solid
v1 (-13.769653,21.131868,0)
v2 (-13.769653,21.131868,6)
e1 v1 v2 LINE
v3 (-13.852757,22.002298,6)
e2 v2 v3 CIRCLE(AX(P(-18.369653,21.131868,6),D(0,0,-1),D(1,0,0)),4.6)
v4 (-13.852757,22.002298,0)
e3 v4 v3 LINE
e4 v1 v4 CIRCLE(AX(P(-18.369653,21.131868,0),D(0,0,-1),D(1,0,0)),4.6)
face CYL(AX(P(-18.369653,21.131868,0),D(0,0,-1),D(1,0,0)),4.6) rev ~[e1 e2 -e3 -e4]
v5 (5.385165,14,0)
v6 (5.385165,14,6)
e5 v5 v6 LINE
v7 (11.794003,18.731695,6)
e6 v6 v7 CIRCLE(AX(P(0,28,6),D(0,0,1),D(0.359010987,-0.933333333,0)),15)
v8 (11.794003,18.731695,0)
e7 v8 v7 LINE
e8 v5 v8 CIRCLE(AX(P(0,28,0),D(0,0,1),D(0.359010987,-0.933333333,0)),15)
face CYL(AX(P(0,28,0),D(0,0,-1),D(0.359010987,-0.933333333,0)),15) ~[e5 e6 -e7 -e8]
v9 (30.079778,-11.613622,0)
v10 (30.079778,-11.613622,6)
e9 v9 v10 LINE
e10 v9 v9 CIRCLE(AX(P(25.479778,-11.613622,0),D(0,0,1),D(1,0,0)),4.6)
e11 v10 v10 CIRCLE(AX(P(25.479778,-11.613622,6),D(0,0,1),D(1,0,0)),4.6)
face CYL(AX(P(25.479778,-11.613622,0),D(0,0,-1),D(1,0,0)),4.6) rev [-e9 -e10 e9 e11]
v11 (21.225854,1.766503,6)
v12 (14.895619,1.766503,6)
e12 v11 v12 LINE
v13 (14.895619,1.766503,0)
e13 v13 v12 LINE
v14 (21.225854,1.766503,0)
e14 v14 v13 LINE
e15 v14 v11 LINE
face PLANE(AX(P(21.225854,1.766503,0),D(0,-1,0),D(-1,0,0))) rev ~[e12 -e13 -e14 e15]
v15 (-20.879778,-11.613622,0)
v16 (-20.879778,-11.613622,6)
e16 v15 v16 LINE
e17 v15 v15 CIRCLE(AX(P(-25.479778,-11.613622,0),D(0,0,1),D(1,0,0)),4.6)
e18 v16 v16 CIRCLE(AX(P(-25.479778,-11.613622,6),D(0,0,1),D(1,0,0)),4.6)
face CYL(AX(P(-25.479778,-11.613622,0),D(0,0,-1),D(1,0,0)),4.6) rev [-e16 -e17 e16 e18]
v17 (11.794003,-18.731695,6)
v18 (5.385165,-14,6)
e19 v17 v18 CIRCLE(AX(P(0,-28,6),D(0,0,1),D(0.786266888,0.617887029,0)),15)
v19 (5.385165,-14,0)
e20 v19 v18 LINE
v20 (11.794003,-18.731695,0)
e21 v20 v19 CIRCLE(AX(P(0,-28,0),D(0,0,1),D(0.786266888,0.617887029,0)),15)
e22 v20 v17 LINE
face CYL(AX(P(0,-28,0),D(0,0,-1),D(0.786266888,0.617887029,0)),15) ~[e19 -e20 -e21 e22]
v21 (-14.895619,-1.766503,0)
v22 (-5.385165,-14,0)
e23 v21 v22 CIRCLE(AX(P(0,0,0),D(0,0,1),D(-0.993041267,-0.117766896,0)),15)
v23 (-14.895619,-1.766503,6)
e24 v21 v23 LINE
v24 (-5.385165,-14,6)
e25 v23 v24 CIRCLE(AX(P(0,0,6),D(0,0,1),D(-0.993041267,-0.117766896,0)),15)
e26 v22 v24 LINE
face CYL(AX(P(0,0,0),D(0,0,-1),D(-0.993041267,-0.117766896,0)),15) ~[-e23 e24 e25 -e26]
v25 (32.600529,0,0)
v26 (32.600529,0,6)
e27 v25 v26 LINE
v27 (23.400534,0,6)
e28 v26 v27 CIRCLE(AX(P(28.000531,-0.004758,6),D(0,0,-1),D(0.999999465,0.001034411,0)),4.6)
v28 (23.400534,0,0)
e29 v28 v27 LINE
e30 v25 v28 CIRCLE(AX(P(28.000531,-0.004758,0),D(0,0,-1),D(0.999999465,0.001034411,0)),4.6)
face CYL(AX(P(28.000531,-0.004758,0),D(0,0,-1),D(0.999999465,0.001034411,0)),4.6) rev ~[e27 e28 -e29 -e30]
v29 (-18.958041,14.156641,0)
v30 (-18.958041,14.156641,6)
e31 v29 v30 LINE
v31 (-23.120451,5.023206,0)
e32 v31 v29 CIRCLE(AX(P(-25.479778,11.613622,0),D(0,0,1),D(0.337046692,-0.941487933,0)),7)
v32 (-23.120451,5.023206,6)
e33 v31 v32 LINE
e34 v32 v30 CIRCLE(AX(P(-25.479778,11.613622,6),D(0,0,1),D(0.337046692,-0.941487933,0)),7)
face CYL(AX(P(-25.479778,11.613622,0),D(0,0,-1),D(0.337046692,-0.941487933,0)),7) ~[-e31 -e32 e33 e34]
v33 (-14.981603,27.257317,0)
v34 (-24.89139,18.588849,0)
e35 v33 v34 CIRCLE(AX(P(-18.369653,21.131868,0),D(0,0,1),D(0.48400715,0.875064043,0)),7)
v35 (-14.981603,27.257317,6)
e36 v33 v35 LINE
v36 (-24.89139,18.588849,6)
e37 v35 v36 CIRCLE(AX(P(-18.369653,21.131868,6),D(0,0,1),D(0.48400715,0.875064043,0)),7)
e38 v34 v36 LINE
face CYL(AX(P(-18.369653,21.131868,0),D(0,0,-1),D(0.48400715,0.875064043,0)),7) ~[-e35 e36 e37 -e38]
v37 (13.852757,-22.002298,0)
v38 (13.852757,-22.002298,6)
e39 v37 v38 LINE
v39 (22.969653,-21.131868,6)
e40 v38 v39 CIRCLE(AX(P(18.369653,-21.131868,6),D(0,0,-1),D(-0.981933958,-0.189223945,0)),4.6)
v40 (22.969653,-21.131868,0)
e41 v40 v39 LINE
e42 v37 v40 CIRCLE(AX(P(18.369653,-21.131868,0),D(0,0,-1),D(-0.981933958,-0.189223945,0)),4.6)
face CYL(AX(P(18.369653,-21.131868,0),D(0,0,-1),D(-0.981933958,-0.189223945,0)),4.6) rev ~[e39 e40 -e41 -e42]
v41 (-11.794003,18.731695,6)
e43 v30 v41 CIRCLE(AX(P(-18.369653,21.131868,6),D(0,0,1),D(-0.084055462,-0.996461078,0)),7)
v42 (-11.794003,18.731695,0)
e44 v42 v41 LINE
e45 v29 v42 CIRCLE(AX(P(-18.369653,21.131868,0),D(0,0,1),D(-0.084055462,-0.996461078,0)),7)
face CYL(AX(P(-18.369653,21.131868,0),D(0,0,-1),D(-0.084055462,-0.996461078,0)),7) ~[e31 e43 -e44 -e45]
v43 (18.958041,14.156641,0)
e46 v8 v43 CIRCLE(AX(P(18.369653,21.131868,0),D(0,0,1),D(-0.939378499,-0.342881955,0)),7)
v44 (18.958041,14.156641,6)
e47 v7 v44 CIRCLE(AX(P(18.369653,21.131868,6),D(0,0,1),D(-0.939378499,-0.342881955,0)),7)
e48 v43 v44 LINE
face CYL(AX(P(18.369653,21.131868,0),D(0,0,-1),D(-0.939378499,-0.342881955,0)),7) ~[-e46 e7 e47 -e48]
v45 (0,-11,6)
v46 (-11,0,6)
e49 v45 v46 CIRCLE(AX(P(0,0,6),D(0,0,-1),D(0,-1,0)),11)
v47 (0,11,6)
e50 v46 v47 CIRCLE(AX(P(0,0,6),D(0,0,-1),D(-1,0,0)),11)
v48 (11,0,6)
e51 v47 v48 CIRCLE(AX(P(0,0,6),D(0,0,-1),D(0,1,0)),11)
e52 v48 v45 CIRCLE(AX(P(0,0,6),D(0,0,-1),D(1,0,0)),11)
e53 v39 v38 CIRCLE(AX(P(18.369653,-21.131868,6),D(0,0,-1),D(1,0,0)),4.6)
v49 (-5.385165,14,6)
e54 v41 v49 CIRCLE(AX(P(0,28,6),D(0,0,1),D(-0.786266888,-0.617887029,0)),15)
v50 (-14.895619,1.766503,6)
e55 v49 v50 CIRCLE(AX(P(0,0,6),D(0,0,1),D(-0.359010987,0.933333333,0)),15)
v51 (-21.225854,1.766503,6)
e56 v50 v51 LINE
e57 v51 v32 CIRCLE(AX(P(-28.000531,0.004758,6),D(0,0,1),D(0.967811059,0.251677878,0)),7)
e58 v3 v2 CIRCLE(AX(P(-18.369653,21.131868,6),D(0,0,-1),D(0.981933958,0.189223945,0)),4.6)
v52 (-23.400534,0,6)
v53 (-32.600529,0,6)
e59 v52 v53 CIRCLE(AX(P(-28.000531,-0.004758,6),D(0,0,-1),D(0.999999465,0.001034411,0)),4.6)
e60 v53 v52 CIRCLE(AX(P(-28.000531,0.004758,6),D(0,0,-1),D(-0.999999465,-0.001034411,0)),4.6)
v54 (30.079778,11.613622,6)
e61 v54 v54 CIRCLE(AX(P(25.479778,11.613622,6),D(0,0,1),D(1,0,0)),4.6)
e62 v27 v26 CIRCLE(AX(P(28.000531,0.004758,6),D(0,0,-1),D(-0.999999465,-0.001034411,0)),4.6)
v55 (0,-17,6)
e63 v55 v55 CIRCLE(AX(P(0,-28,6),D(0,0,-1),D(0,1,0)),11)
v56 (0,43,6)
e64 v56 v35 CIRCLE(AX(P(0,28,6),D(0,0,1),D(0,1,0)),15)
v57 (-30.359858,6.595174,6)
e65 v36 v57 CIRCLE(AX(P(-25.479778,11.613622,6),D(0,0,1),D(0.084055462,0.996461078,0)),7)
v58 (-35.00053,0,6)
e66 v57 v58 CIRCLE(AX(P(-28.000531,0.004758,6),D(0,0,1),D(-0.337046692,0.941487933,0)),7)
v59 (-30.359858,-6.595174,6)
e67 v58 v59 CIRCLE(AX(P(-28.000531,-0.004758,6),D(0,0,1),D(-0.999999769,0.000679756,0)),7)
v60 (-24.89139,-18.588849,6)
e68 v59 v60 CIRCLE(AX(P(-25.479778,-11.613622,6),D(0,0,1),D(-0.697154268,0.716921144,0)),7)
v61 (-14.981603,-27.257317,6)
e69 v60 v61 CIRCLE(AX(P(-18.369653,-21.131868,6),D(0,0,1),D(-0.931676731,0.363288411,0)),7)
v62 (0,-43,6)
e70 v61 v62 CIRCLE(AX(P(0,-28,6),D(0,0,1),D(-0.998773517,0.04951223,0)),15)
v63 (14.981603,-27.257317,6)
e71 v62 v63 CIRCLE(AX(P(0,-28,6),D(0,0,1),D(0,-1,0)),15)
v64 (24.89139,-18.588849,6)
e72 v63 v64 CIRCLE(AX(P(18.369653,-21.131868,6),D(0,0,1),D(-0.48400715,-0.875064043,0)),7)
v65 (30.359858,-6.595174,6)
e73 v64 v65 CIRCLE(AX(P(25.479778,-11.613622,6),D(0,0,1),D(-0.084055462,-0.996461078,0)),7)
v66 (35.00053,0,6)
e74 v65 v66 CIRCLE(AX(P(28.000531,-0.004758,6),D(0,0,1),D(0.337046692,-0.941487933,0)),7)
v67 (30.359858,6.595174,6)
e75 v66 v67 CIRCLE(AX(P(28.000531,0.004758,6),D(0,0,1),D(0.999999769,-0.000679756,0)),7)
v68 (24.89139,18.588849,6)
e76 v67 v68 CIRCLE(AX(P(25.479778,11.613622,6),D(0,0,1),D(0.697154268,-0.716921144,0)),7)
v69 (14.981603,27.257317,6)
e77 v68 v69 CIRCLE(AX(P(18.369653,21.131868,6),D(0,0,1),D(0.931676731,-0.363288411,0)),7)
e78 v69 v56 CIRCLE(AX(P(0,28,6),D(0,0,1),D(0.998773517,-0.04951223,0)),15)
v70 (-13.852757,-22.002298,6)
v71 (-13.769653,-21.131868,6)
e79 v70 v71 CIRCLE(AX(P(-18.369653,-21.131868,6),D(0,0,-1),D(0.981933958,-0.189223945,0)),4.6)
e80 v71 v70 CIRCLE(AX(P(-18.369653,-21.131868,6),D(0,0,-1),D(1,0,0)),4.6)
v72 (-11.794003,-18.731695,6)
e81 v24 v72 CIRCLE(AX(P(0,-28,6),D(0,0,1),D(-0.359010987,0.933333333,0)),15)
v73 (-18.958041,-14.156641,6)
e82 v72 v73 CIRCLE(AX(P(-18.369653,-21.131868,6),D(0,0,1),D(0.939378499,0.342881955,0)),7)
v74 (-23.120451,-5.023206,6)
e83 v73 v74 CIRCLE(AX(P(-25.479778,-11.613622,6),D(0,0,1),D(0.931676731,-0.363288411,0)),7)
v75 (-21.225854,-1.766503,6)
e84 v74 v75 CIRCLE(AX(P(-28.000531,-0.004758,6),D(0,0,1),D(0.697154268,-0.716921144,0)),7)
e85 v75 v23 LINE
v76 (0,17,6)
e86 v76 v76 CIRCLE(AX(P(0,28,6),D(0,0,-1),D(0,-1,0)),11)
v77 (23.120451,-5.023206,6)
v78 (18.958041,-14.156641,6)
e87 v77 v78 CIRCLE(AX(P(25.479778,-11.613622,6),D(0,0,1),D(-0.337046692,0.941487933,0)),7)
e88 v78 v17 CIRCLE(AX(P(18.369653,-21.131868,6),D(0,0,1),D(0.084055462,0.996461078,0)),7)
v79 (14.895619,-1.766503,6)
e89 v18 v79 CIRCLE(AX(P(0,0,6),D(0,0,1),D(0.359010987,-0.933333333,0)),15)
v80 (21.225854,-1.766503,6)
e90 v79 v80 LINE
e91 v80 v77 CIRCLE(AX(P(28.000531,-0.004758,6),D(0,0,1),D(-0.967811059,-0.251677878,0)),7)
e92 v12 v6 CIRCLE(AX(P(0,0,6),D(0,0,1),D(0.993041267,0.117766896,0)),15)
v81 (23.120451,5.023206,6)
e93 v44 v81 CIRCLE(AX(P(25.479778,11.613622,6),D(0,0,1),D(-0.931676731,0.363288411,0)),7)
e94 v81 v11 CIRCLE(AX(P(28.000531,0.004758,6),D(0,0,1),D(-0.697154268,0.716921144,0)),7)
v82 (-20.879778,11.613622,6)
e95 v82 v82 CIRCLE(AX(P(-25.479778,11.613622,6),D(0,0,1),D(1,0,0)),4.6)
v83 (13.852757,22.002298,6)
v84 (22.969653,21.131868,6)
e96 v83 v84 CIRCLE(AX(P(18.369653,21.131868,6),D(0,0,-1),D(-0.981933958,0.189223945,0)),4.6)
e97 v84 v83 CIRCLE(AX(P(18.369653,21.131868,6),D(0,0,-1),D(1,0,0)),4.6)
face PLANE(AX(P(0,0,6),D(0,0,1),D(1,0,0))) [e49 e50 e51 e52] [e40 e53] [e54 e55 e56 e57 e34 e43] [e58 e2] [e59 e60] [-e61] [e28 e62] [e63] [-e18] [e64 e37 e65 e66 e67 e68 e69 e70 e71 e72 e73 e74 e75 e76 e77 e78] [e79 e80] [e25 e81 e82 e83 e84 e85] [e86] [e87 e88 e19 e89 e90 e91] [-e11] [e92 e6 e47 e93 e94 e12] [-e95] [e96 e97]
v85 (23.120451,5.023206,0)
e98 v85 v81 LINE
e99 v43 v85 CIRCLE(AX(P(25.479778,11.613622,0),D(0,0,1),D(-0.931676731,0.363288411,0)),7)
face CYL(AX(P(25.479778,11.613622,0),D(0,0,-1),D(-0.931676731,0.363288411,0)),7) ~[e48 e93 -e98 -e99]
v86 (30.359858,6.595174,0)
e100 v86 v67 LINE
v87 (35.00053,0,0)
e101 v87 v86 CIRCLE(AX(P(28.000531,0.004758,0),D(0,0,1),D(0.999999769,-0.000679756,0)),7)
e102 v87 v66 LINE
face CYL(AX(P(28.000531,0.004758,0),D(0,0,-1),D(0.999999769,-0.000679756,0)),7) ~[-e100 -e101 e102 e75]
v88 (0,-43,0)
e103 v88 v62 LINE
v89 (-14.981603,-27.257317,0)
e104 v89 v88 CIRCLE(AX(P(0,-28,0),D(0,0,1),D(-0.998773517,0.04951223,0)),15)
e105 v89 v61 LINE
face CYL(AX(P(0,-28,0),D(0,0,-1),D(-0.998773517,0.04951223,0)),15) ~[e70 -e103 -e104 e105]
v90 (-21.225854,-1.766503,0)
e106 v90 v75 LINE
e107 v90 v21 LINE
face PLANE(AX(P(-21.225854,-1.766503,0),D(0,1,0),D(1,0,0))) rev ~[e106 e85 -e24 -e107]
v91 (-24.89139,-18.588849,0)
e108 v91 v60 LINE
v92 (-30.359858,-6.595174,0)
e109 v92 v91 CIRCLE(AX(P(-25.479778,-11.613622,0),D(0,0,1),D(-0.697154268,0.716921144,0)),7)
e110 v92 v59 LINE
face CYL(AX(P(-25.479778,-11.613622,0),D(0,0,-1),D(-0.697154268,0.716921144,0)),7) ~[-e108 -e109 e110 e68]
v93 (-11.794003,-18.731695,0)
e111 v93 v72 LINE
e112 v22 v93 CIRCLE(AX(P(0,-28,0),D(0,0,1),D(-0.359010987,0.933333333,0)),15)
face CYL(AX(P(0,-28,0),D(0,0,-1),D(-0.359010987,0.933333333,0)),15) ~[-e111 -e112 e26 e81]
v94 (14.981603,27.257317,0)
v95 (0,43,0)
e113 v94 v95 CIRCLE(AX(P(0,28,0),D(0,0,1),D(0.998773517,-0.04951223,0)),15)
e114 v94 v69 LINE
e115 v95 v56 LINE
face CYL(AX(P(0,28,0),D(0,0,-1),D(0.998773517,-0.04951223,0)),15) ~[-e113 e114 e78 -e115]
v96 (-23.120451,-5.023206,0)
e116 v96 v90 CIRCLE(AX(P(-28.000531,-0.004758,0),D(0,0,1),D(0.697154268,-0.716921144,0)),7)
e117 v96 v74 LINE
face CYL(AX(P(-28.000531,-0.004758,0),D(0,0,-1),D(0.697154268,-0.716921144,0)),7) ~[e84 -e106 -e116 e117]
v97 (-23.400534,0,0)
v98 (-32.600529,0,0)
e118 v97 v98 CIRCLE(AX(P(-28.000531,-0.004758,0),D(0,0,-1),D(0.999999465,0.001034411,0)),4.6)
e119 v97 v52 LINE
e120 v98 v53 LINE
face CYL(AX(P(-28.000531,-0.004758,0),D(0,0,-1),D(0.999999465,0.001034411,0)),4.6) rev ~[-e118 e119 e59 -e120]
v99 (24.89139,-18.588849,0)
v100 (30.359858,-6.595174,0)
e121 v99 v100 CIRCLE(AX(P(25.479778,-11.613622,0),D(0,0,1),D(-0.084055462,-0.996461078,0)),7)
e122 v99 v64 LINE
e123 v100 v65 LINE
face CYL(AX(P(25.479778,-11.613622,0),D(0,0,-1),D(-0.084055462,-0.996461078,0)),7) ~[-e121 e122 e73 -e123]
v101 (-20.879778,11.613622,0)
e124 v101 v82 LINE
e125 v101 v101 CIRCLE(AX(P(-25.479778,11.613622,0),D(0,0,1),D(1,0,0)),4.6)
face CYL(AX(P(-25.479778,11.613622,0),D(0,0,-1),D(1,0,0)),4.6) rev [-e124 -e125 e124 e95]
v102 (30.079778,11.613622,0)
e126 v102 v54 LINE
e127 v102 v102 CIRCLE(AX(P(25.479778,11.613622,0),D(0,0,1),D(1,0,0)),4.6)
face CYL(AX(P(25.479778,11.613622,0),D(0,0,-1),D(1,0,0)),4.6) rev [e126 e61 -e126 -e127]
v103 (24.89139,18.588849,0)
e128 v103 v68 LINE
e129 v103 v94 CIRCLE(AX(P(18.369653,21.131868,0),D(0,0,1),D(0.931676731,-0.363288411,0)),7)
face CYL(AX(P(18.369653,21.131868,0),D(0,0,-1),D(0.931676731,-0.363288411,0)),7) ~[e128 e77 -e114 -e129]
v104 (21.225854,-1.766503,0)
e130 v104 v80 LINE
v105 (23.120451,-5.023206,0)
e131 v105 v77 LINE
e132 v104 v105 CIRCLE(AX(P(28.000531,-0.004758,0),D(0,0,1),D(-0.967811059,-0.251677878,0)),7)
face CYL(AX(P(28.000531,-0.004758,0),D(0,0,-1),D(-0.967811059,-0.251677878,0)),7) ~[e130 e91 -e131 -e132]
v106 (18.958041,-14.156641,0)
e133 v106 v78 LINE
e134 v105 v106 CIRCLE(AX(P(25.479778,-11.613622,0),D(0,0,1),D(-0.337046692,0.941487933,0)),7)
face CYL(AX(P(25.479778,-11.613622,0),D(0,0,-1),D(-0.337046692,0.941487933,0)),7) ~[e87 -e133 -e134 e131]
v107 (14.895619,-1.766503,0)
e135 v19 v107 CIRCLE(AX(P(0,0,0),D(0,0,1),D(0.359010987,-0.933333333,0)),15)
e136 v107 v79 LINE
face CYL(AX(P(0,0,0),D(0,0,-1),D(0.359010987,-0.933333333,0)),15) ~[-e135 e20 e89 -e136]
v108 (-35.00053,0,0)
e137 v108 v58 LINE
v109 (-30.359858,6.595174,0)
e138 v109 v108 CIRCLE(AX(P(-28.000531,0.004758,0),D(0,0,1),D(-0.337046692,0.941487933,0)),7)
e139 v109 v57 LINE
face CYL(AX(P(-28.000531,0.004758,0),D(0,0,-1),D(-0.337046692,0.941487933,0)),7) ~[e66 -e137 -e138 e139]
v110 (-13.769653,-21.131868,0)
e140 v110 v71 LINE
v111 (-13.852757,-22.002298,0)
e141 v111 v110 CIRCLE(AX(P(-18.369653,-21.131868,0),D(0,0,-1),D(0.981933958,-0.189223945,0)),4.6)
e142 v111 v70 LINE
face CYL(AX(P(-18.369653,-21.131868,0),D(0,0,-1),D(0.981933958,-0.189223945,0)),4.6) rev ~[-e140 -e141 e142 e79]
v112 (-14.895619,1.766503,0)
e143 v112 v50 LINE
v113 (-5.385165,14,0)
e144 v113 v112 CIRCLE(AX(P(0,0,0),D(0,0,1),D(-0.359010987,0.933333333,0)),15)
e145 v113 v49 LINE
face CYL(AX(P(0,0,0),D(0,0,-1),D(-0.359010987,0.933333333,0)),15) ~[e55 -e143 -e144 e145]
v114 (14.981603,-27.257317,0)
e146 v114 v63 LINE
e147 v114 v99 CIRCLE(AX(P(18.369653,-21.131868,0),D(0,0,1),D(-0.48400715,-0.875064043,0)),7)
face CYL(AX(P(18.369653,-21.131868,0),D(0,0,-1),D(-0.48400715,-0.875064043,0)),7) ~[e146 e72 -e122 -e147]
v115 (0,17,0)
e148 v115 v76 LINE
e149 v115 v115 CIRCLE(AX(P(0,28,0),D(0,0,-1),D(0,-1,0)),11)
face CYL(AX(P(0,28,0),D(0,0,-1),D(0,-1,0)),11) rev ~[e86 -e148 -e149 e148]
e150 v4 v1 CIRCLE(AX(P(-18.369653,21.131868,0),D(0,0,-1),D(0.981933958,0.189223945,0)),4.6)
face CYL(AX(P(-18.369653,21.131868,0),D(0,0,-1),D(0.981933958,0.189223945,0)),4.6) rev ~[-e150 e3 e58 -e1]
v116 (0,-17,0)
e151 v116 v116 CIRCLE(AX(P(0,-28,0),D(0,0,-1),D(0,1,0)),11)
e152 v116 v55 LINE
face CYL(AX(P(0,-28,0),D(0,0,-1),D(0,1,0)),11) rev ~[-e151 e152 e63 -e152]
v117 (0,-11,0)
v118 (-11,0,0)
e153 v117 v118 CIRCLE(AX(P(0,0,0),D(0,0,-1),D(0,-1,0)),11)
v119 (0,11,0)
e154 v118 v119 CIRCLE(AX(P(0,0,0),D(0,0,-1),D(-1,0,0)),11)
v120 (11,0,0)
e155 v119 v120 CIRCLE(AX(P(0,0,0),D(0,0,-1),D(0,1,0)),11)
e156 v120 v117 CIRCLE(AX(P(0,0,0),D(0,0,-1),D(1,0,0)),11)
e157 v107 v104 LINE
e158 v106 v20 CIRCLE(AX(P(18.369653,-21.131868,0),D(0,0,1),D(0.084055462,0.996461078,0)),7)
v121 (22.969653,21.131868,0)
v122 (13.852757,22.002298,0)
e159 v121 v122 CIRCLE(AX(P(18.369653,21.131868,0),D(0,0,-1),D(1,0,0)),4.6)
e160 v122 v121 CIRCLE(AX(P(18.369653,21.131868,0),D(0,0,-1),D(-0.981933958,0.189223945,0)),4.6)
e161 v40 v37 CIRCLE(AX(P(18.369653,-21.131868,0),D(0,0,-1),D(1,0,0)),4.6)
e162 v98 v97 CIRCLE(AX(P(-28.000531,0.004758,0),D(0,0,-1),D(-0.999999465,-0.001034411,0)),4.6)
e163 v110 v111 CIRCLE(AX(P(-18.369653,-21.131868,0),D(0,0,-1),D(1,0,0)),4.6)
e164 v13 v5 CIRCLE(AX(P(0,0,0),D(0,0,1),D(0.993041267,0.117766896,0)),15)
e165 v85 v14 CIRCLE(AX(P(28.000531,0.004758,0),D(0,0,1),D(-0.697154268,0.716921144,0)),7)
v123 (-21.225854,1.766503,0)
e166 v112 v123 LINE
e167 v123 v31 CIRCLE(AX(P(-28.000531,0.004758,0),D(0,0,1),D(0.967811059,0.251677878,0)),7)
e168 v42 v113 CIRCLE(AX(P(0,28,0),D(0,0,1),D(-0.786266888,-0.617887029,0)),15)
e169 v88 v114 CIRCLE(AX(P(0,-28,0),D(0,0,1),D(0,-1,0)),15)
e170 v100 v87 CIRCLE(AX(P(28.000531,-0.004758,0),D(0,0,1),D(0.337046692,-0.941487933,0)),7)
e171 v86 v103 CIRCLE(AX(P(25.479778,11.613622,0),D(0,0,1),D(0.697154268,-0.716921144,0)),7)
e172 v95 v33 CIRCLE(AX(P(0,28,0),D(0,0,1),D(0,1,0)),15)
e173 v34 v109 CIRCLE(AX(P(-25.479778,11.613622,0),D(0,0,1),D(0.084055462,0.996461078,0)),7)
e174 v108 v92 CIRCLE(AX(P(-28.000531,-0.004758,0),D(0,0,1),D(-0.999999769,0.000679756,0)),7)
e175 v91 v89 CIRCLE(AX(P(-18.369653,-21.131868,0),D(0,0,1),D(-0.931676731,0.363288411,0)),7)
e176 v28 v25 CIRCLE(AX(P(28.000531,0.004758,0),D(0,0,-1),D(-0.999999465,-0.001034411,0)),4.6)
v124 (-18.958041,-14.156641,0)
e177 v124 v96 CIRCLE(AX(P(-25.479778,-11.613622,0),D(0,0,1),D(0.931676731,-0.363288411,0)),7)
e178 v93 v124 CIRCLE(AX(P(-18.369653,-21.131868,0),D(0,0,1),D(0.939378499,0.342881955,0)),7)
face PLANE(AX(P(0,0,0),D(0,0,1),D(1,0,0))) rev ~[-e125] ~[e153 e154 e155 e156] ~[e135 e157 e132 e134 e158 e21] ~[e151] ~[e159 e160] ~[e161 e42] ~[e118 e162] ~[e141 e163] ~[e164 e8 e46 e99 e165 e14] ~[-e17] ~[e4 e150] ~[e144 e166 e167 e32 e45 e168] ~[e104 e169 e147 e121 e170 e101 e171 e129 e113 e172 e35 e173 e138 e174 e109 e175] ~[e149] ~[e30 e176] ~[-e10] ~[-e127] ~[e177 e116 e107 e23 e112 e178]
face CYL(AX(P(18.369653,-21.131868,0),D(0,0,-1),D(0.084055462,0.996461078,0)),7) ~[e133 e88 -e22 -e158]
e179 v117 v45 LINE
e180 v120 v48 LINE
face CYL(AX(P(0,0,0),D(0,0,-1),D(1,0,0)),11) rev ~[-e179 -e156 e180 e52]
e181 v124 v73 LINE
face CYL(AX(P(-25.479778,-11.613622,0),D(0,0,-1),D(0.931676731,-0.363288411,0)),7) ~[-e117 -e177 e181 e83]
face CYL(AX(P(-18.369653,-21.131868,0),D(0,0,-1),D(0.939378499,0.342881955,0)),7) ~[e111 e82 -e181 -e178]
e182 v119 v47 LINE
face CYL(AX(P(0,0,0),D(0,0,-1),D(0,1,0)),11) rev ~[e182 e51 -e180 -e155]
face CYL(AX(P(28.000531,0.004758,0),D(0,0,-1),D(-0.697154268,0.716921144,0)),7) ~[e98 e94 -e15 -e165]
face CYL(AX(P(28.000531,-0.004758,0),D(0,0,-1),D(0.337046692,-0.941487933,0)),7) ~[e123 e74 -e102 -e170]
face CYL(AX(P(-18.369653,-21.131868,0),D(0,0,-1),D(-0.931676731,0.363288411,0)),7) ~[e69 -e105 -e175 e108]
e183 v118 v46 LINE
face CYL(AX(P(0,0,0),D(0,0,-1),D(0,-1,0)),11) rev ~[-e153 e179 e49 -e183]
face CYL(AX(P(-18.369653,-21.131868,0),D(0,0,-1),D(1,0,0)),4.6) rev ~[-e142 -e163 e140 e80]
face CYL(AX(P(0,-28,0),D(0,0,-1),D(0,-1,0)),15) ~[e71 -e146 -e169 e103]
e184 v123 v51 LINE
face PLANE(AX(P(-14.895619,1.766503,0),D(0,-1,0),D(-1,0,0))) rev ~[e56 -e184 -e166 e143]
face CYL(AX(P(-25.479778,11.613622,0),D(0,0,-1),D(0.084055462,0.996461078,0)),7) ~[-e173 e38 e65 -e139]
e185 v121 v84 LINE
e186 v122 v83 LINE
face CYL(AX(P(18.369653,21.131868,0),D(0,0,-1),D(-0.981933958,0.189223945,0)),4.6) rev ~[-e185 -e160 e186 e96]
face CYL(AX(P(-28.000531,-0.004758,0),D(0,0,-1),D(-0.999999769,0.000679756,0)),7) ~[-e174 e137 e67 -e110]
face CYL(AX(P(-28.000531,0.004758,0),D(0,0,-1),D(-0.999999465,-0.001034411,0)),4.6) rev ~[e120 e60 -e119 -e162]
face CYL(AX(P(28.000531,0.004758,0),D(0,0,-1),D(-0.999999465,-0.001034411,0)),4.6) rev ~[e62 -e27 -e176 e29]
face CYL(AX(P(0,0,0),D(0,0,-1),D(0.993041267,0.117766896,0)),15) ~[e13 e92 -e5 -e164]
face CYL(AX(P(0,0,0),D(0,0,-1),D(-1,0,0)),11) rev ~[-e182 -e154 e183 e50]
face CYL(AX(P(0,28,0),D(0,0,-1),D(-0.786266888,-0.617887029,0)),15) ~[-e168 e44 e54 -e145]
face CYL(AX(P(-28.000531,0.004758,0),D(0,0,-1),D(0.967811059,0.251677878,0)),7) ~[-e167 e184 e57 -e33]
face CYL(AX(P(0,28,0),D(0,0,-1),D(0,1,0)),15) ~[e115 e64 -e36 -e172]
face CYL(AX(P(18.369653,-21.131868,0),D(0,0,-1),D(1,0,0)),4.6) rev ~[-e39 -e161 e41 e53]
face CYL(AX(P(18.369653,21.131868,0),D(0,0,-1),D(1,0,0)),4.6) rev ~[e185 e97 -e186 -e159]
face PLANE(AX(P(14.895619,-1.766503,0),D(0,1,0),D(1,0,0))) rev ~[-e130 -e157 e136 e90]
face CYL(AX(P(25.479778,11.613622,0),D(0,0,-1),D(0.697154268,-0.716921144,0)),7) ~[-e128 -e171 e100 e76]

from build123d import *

# Parameters (mm, degrees)
F0_R     = 4.6
F1_DEPTH = 6


with BuildPart() as f1:
    # F0 (on Top) → F1 (new body)
    with BuildSketch(Plane.XY):
        with BuildLine():
            ThreePointArc((24.891389926, 18.5888493686), (22.9784031247, 26.4005892061), (14.9816027609, 27.2573165444))
            ThreePointArc((14.9816027609, 27.2573165444), (10.8660078188, 38.3406902131), (0, 43))
            ThreePointArc((0, 43), (-10.8660078188, 38.3406902131), (-14.9816027609, 27.2573165444))
            ThreePointArc((-14.9816027609, 27.2573165444), (-22.9784031247, 26.4005892061), (-24.891389926, 18.5888493686))
            ThreePointArc((-24.891389926, 18.5888493686), (-31.8489788648, 14.517633261), (-30.3598580405, 6.5951738193))
            ThreePointArc((-30.3598580405, 6.5951738193), (-33.7253300236, 4.0329934375), (-35.0005295806, 0))
            ThreePointArc((-35.0005295806, 0), (-33.7253300236, -4.0329934375), (-30.3598580405, -6.5951738193))
            ThreePointArc((-30.3598580405, -6.5951738193), (-31.8489788648, -14.517633261), (-24.891389926, -18.5888493686))
            ThreePointArc((-24.891389926, -18.5888493686), (-22.9784031247, -26.4005892061), (-14.9816027609, -27.2573165444))
            ThreePointArc((-14.9816027609, -27.2573165444), (-10.8660078188, -38.3406902131), (0, -43))
            ThreePointArc((0, -43), (10.8660078188, -38.3406902131), (14.9816027609, -27.2573165444))
            ThreePointArc((14.9816027609, -27.2573165444), (22.9784031247, -26.4005892061), (24.891389926, -18.5888493686))
            ThreePointArc((24.891389926, -18.5888493686), (31.8489788648, -14.517633261), (30.3598580405, -6.5951738193))
            ThreePointArc((30.3598580405, -6.5951738193), (33.7253300236, -4.0329934375), (35.0005295806, 0))
            ThreePointArc((35.0005295806, 0), (33.7253300236, 4.0329934375), (30.3598580405, 6.5951738193))
            ThreePointArc((30.3598580405, 6.5951738193), (31.8489788648, 14.517633261), (24.891389926, 18.5888493686))
        make_face()
        with BuildLine():
            ThreePointArc((-14.8758264908, -27.1976062589), (-14.9285851099, -27.2276908381), (-14.9816027609, -27.2573165444))
            ThreePointArc((-14.9816027609, -27.2573165444), (-14.9786558009, -27.2000810049), (-14.9754901797, -27.1428571429))
            ThreePointArc((-14.9754901797, -27.1428571429), (-14.9256834385, -27.1702773982), (-14.8758264908, -27.1976062589))
        make_face(mode=Mode.SUBTRACT)
        with BuildLine():
            ThreePointArc((-24.8159520893, -18.5820746623), (-24.8536618446, -18.5855640478), (-24.891389926, -18.5888493686))
            ThreePointArc((-24.891389926, -18.5888493686), (-24.8770993205, -18.5525001191), (-24.8626061224, -18.5162311717))
            ThreePointArc((-24.8626061224, -18.5162311717), (-24.8393005306, -18.5491680978), (-24.8159520893, -18.5820746623))
        make_face(mode=Mode.SUBTRACT)
        with BuildLine():
            ThreePointArc((-13.8527566028, -22.0022983914), (-22.9488297335, -20.6946741024), (-13.7696528117, -21.1318682462))
            ThreePointArc((-13.7696528117, -21.1318682462), (-13.79047589, -21.5690623901), (-13.8527566028, -22.0022983914))
        make_face(mode=Mode.SUBTRACT)
        with Locations((-25.4797781629, -11.6136218252)):
            Circle(F0_R, mode=Mode.SUBTRACT)
        with BuildLine():
            ThreePointArc((-30.2862454835, -6.6210646767), (-30.3230878398, -6.6082218239), (-30.3598580405, -6.5951738193))
            ThreePointArc((-30.3598580405, -6.5951738193), (-30.3317184772, -6.5679627813), (-30.3034271892, -6.5409095258))
            ThreePointArc((-30.3034271892, -6.5409095258), (-30.2948628315, -6.5809927807), (-30.2862454835, -6.6210646767))
        make_face(mode=Mode.SUBTRACT)
        with BuildLine():
            ThreePointArc((-11.7940033175, -18.731694559), (-14.6020801465, -15.2322584106), (-18.9580410486, -14.1566407028))
            ThreePointArc((-18.9580410486, -14.1566407028), (-19.1100662174, -8.7107319321), (-23.1204513202, -5.0232062958))
            ThreePointArc((-23.1204513202, -5.0232062958), (-21.9499221167, -3.5247199016), (-21.2258537854, -1.7665034355))
            Line((-21.2258537854, -1.7665034355), (-14.8956190074, -1.7665034355))
            ThreePointArc((-14.8956190074, -1.7665034355), (-11.8423881705, -9.2064022517), (-5.3851648071, -14))
            ThreePointArc((-5.3851648071, -14), (-8.9094437376, -15.9326136928), (-11.7940033175, -18.731694559))
        make_face(mode=Mode.SUBTRACT)
        with BuildLine():
            ThreePointArc((0, -39), (-11, -28), (0, -17))
            ThreePointArc((0, -17), (11, -28), (0, -39))
        make_face(mode=Mode.SUBTRACT)
        with BuildLine():
            ThreePointArc((14.9754901797, -27.1428571429), (14.9786558009, -27.2000810049), (14.9816027609, -27.2573165444))
            ThreePointArc((14.9816027609, -27.2573165444), (14.9285851099, -27.2276908381), (14.8758264908, -27.1976062589))
            ThreePointArc((14.8758264908, -27.1976062589), (14.9256834385, -27.1702773982), (14.9754901797, -27.1428571429))
        make_face(mode=Mode.SUBTRACT)
        with BuildLine():
            ThreePointArc((23.1204513202, -5.0232062958), (19.1100662174, -8.7107319321), (18.9580410486, -14.1566407028))
            ThreePointArc((18.9580410486, -14.1566407028), (14.6020801465, -15.2322584106), (11.7940033175, -18.731694559))
            ThreePointArc((11.7940033175, -18.731694559), (8.9094437376, -15.9326136928), (5.3851648071, -14))
            ThreePointArc((5.3851648071, -14), (11.8423881705, -9.2064022517), (14.8956190074, -1.7665034355))
            Line((14.8956190074, -1.7665034355), (21.2258537854, -1.7665034355))
            ThreePointArc((21.2258537854, -1.7665034355), (21.9499221167, -3.5247199016), (23.1204513202, -5.0232062958))
        make_face(mode=Mode.SUBTRACT)
        with BuildLine():
            ThreePointArc((13.8527566028, -22.0022983914), (17.9324586679, -16.5526913245), (22.9696528117, -21.1318682462))
            ThreePointArc((22.9696528117, -21.1318682462), (18.8068469556, -25.711045168), (13.8527566028, -22.0022983914))
        make_face(mode=Mode.SUBTRACT)
        with BuildLine():
            ThreePointArc((24.8626061224, -18.5162311717), (24.8770993205, -18.5525001191), (24.891389926, -18.5888493686))
            ThreePointArc((24.891389926, -18.5888493686), (24.8536618446, -18.5855640478), (24.8159520893, -18.5820746623))
            ThreePointArc((24.8159520893, -18.5820746623), (24.8393005306, -18.5491680978), (24.8626061224, -18.5162311717))
        make_face(mode=Mode.SUBTRACT)
        with Locations((25.4797781629, -11.6136218252)):
            Circle(F0_R, mode=Mode.SUBTRACT)
        with BuildLine():
            ThreePointArc((30.3034271892, -6.5409095258), (30.3317184772, -6.5679627813), (30.3598580405, -6.5951738193))
            ThreePointArc((30.3598580405, -6.5951738193), (30.3230878398, -6.6082218239), (30.2862454835, -6.6210646767))
            ThreePointArc((30.2862454835, -6.6210646767), (30.2948628315, -6.5809927807), (30.3034271892, -6.5409095258))
        make_face(mode=Mode.SUBTRACT)
        with BuildLine():
            ThreePointArc((-23.4005336588, 0), (-28.0005311978, -4.6047582899), (-32.6005287368, 0))
            ThreePointArc((-32.6005287368, 0), (-28.0005311978, 4.6047582899), (-23.4005336588, 0))
        make_face(mode=Mode.SUBTRACT)
        with BuildLine():
            ThreePointArc((-30.3034271892, 6.5409095258), (-30.3317184772, 6.5679627813), (-30.3598580405, 6.5951738193))
            ThreePointArc((-30.3598580405, 6.5951738193), (-30.3230878398, 6.6082218239), (-30.2862454835, 6.6210646767))
            ThreePointArc((-30.2862454835, 6.6210646767), (-30.2948628315, 6.5809927807), (-30.3034271892, 6.5409095258))
        make_face(mode=Mode.SUBTRACT)
        with Locations((-25.4797781629, 11.6136218252)):
            Circle(F0_R, mode=Mode.SUBTRACT)
        with BuildLine():
            ThreePointArc((-24.8626061224, 18.5162311717), (-24.8770993205, 18.5525001191), (-24.891389926, 18.5888493686))
            ThreePointArc((-24.891389926, 18.5888493686), (-24.8536618446, 18.5855640478), (-24.8159520893, 18.5820746623))
            ThreePointArc((-24.8159520893, 18.5820746623), (-24.8393005306, 18.5491680978), (-24.8626061224, 18.5162311717))
        make_face(mode=Mode.SUBTRACT)
        with BuildLine():
            ThreePointArc((-13.8527566028, 22.0022983914), (-13.79047589, 21.5690623901), (-13.7696528117, 21.1318682462))
            ThreePointArc((-13.7696528117, 21.1318682462), (-22.9488297335, 20.6946741024), (-13.8527566028, 22.0022983914))
        make_face(mode=Mode.SUBTRACT)
        with BuildLine():
            ThreePointArc((-11.7940033175, 18.731694559), (-8.9094437376, 15.9326136928), (-5.3851648071, 14))
            ThreePointArc((-5.3851648071, 14), (-11.8423881705, 9.2064022517), (-14.8956190074, 1.7665034355))
            Line((-14.8956190074, 1.7665034355), (-21.2258537854, 1.7665034355))
            ThreePointArc((-21.2258537854, 1.7665034355), (-21.9499221167, 3.5247199016), (-23.1204513202, 5.0232062958))
            ThreePointArc((-23.1204513202, 5.0232062958), (-19.1100662174, 8.7107319321), (-18.9580410486, 14.1566407028))
            ThreePointArc((-18.9580410486, 14.1566407028), (-14.6020801465, 15.2322584106), (-11.7940033175, 18.731694559))
        make_face(mode=Mode.SUBTRACT)
        with BuildLine():
            ThreePointArc((-14.9754901797, 27.1428571429), (-14.9786558009, 27.2000810049), (-14.9816027609, 27.2573165444))
            ThreePointArc((-14.9816027609, 27.2573165444), (-14.9285851099, 27.2276908381), (-14.8758264908, 27.1976062589))
            ThreePointArc((-14.8758264908, 27.1976062589), (-14.9256834385, 27.1702773982), (-14.9754901797, 27.1428571429))
        make_face(mode=Mode.SUBTRACT)
        with BuildLine():
            ThreePointArc((0, 11), (7.7781745931, 7.7781745931), (11, 0))
            ThreePointArc((11, 0), (7.7781745931, -7.7781745931), (0, -11))
            ThreePointArc((0, -11), (-7.7781745931, -7.7781745931), (-11, 0))
            ThreePointArc((-11, 0), (-7.7781745931, 7.7781745931), (0, 11))
        make_face(mode=Mode.SUBTRACT)
        with BuildLine():
            Line((21.2258537854, 1.7665034355), (14.8956190074, 1.7665034355))
            ThreePointArc((14.8956190074, 1.7665034355), (11.8423881705, 9.2064022517), (5.3851648071, 14))
            ThreePointArc((5.3851648071, 14), (8.9094437376, 15.9326136928), (11.7940033175, 18.731694559))
            ThreePointArc((11.7940033175, 18.731694559), (14.6020801465, 15.2322584106), (18.9580410486, 14.1566407028))
            ThreePointArc((18.9580410486, 14.1566407028), (19.1100662174, 8.7107319321), (23.1204513202, 5.0232062958))
            ThreePointArc((23.1204513202, 5.0232062958), (21.9499221167, 3.5247199016), (21.2258537854, 1.7665034355))
        make_face(mode=Mode.SUBTRACT)
        with BuildLine():
            ThreePointArc((23.4005336588, 0), (28.0005311978, 4.6047582899), (32.6005287368, 0))
            ThreePointArc((32.6005287368, 0), (28.0005311978, -4.6047582899), (23.4005336588, 0))
        make_face(mode=Mode.SUBTRACT)
        with BuildLine():
            ThreePointArc((30.2862454835, 6.6210646767), (30.3230878398, 6.6082218239), (30.3598580405, 6.5951738193))
            ThreePointArc((30.3598580405, 6.5951738193), (30.3317184772, 6.5679627813), (30.3034271892, 6.5409095258))
            ThreePointArc((30.3034271892, 6.5409095258), (30.2948628315, 6.5809927807), (30.2862454835, 6.6210646767))
        make_face(mode=Mode.SUBTRACT)
        with Locations((25.4797781629, 11.6136218252)):
            Circle(F0_R, mode=Mode.SUBTRACT)
        with BuildLine():
            ThreePointArc((13.8527566028, 22.0022983914), (18.8068469556, 25.711045168), (22.9696528117, 21.1318682462))
            ThreePointArc((22.9696528117, 21.1318682462), (17.9324586679, 16.5526913245), (13.8527566028, 22.0022983914))
        make_face(mode=Mode.SUBTRACT)
        with BuildLine():
            ThreePointArc((24.8159520893, 18.5820746623), (24.8536618446, 18.5855640478), (24.891389926, 18.5888493686))
            ThreePointArc((24.891389926, 18.5888493686), (24.8770993205, 18.5525001191), (24.8626061224, 18.5162311717))
            ThreePointArc((24.8626061224, 18.5162311717), (24.8393005306, 18.5491680978), (24.8159520893, 18.5820746623))
        make_face(mode=Mode.SUBTRACT)
        with BuildLine():
            ThreePointArc((0, 39), (11, 28), (0, 17))
            ThreePointArc((0, 17), (-11, 28), (0, 39))
        make_face(mode=Mode.SUBTRACT)
        with BuildLine():
            ThreePointArc((14.9816027609, 27.2573165444), (14.9786558009, 27.2000810049), (14.9754901797, 27.1428571429))
            ThreePointArc((14.9754901797, 27.1428571429), (14.9256834385, 27.1702773982), (14.8758264908, 27.1976062589))
            ThreePointArc((14.8758264908, 27.1976062589), (14.9285851099, 27.2276908381), (14.9816027609, 27.2573165444))
        make_face(mode=Mode.SUBTRACT)
        with BuildLine():
            ThreePointArc((14.8758264908, 27.1976062589), (14.9256834385, 27.1702773982), (14.9754901797, 27.1428571429))
            ThreePointArc((14.9754901797, 27.1428571429), (14.9786558009, 27.2000810049), (14.9816027609, 27.2573165444))
            ThreePointArc((14.9816027609, 27.2573165444), (14.9285851099, 27.2276908381), (14.8758264908, 27.1976062589))
        make_face()
        with BuildLine():
            ThreePointArc((-14.8758264908, 27.1976062589), (-14.9285851099, 27.2276908381), (-14.9816027609, 27.2573165444))
            ThreePointArc((-14.9816027609, 27.2573165444), (-14.9786558009, 27.2000810049), (-14.9754901797, 27.1428571429))
            ThreePointArc((-14.9754901797, 27.1428571429), (-14.9256834385, 27.1702773982), (-14.8758264908, 27.1976062589))
        make_face()
        with BuildLine():
            ThreePointArc((-14.9754901797, -27.1428571429), (-14.9786558009, -27.2000810049), (-14.9816027609, -27.2573165444))
            ThreePointArc((-14.9816027609, -27.2573165444), (-14.9285851099, -27.2276908381), (-14.8758264908, -27.1976062589))
            ThreePointArc((-14.8758264908, -27.1976062589), (-14.9256834385, -27.1702773982), (-14.9754901797, -27.1428571429))
        make_face()
        with BuildLine():
            ThreePointArc((14.8758264908, -27.1976062589), (14.9285851099, -27.2276908381), (14.9816027609, -27.2573165444))
            ThreePointArc((14.9816027609, -27.2573165444), (14.9786558009, -27.2000810049), (14.9754901797, -27.1428571429))
            ThreePointArc((14.9754901797, -27.1428571429), (14.9256834385, -27.1702773982), (14.8758264908, -27.1976062589))
        make_face()
        with BuildLine():
            ThreePointArc((-30.2862454835, 6.6210646767), (-30.3230878398, 6.6082218239), (-30.3598580405, 6.5951738193))
            ThreePointArc((-30.3598580405, 6.5951738193), (-30.3317184772, 6.5679627813), (-30.3034271892, 6.5409095258))
            ThreePointArc((-30.3034271892, 6.5409095258), (-30.2948628315, 6.5809927807), (-30.2862454835, 6.6210646767))
        make_face()
        with BuildLine():
            ThreePointArc((-30.3034271892, -6.5409095258), (-30.3317184772, -6.5679627813), (-30.3598580405, -6.5951738193))
            ThreePointArc((-30.3598580405, -6.5951738193), (-30.3230878398, -6.6082218239), (-30.2862454835, -6.6210646767))
            ThreePointArc((-30.2862454835, -6.6210646767), (-30.2948628315, -6.5809927807), (-30.3034271892, -6.5409095258))
        make_face()
        with BuildLine():
            ThreePointArc((30.2862454835, -6.6210646767), (30.3230878398, -6.6082218239), (30.3598580405, -6.5951738193))
            ThreePointArc((30.3598580405, -6.5951738193), (30.3317184772, -6.5679627813), (30.3034271892, -6.5409095258))
            ThreePointArc((30.3034271892, -6.5409095258), (30.2948628315, -6.5809927807), (30.2862454835, -6.6210646767))
        make_face()
        with BuildLine():
            ThreePointArc((30.3034271892, 6.5409095258), (30.3317184772, 6.5679627813), (30.3598580405, 6.5951738193))
            ThreePointArc((30.3598580405, 6.5951738193), (30.3230878398, 6.6082218239), (30.2862454835, 6.6210646767))
            ThreePointArc((30.2862454835, 6.6210646767), (30.2948628315, 6.5809927807), (30.3034271892, 6.5409095258))
        make_face()
        with BuildLine():
            ThreePointArc((-24.8159520893, 18.5820746623), (-24.8536618446, 18.5855640478), (-24.891389926, 18.5888493686))
            ThreePointArc((-24.891389926, 18.5888493686), (-24.8770993205, 18.5525001191), (-24.8626061224, 18.5162311717))
            ThreePointArc((-24.8626061224, 18.5162311717), (-24.8393005306, 18.5491680978), (-24.8159520893, 18.5820746623))
        make_face()
        with BuildLine():
            ThreePointArc((-24.8626061224, -18.5162311717), (-24.8770993205, -18.5525001191), (-24.891389926, -18.5888493686))
            ThreePointArc((-24.891389926, -18.5888493686), (-24.8536618446, -18.5855640478), (-24.8159520893, -18.5820746623))
            ThreePointArc((-24.8159520893, -18.5820746623), (-24.8393005306, -18.5491680978), (-24.8626061224, -18.5162311717))
        make_face()
        with BuildLine():
            ThreePointArc((24.8159520893, -18.5820746623), (24.8536618446, -18.5855640478), (24.891389926, -18.5888493686))
            ThreePointArc((24.891389926, -18.5888493686), (24.8770993205, -18.5525001191), (24.8626061224, -18.5162311717))
            ThreePointArc((24.8626061224, -18.5162311717), (24.8393005306, -18.5491680978), (24.8159520893, -18.5820746623))
        make_face()
        with BuildLine():
            ThreePointArc((24.8626061224, 18.5162311717), (24.8770993205, 18.5525001191), (24.891389926, 18.5888493686))
            ThreePointArc((24.891389926, 18.5888493686), (24.8536618446, 18.5855640478), (24.8159520893, 18.5820746623))
            ThreePointArc((24.8159520893, 18.5820746623), (24.8393005306, 18.5491680978), (24.8626061224, 18.5162311717))
        make_face()
    extrude(amount=F1_DEPTH)


solid = f1.part
